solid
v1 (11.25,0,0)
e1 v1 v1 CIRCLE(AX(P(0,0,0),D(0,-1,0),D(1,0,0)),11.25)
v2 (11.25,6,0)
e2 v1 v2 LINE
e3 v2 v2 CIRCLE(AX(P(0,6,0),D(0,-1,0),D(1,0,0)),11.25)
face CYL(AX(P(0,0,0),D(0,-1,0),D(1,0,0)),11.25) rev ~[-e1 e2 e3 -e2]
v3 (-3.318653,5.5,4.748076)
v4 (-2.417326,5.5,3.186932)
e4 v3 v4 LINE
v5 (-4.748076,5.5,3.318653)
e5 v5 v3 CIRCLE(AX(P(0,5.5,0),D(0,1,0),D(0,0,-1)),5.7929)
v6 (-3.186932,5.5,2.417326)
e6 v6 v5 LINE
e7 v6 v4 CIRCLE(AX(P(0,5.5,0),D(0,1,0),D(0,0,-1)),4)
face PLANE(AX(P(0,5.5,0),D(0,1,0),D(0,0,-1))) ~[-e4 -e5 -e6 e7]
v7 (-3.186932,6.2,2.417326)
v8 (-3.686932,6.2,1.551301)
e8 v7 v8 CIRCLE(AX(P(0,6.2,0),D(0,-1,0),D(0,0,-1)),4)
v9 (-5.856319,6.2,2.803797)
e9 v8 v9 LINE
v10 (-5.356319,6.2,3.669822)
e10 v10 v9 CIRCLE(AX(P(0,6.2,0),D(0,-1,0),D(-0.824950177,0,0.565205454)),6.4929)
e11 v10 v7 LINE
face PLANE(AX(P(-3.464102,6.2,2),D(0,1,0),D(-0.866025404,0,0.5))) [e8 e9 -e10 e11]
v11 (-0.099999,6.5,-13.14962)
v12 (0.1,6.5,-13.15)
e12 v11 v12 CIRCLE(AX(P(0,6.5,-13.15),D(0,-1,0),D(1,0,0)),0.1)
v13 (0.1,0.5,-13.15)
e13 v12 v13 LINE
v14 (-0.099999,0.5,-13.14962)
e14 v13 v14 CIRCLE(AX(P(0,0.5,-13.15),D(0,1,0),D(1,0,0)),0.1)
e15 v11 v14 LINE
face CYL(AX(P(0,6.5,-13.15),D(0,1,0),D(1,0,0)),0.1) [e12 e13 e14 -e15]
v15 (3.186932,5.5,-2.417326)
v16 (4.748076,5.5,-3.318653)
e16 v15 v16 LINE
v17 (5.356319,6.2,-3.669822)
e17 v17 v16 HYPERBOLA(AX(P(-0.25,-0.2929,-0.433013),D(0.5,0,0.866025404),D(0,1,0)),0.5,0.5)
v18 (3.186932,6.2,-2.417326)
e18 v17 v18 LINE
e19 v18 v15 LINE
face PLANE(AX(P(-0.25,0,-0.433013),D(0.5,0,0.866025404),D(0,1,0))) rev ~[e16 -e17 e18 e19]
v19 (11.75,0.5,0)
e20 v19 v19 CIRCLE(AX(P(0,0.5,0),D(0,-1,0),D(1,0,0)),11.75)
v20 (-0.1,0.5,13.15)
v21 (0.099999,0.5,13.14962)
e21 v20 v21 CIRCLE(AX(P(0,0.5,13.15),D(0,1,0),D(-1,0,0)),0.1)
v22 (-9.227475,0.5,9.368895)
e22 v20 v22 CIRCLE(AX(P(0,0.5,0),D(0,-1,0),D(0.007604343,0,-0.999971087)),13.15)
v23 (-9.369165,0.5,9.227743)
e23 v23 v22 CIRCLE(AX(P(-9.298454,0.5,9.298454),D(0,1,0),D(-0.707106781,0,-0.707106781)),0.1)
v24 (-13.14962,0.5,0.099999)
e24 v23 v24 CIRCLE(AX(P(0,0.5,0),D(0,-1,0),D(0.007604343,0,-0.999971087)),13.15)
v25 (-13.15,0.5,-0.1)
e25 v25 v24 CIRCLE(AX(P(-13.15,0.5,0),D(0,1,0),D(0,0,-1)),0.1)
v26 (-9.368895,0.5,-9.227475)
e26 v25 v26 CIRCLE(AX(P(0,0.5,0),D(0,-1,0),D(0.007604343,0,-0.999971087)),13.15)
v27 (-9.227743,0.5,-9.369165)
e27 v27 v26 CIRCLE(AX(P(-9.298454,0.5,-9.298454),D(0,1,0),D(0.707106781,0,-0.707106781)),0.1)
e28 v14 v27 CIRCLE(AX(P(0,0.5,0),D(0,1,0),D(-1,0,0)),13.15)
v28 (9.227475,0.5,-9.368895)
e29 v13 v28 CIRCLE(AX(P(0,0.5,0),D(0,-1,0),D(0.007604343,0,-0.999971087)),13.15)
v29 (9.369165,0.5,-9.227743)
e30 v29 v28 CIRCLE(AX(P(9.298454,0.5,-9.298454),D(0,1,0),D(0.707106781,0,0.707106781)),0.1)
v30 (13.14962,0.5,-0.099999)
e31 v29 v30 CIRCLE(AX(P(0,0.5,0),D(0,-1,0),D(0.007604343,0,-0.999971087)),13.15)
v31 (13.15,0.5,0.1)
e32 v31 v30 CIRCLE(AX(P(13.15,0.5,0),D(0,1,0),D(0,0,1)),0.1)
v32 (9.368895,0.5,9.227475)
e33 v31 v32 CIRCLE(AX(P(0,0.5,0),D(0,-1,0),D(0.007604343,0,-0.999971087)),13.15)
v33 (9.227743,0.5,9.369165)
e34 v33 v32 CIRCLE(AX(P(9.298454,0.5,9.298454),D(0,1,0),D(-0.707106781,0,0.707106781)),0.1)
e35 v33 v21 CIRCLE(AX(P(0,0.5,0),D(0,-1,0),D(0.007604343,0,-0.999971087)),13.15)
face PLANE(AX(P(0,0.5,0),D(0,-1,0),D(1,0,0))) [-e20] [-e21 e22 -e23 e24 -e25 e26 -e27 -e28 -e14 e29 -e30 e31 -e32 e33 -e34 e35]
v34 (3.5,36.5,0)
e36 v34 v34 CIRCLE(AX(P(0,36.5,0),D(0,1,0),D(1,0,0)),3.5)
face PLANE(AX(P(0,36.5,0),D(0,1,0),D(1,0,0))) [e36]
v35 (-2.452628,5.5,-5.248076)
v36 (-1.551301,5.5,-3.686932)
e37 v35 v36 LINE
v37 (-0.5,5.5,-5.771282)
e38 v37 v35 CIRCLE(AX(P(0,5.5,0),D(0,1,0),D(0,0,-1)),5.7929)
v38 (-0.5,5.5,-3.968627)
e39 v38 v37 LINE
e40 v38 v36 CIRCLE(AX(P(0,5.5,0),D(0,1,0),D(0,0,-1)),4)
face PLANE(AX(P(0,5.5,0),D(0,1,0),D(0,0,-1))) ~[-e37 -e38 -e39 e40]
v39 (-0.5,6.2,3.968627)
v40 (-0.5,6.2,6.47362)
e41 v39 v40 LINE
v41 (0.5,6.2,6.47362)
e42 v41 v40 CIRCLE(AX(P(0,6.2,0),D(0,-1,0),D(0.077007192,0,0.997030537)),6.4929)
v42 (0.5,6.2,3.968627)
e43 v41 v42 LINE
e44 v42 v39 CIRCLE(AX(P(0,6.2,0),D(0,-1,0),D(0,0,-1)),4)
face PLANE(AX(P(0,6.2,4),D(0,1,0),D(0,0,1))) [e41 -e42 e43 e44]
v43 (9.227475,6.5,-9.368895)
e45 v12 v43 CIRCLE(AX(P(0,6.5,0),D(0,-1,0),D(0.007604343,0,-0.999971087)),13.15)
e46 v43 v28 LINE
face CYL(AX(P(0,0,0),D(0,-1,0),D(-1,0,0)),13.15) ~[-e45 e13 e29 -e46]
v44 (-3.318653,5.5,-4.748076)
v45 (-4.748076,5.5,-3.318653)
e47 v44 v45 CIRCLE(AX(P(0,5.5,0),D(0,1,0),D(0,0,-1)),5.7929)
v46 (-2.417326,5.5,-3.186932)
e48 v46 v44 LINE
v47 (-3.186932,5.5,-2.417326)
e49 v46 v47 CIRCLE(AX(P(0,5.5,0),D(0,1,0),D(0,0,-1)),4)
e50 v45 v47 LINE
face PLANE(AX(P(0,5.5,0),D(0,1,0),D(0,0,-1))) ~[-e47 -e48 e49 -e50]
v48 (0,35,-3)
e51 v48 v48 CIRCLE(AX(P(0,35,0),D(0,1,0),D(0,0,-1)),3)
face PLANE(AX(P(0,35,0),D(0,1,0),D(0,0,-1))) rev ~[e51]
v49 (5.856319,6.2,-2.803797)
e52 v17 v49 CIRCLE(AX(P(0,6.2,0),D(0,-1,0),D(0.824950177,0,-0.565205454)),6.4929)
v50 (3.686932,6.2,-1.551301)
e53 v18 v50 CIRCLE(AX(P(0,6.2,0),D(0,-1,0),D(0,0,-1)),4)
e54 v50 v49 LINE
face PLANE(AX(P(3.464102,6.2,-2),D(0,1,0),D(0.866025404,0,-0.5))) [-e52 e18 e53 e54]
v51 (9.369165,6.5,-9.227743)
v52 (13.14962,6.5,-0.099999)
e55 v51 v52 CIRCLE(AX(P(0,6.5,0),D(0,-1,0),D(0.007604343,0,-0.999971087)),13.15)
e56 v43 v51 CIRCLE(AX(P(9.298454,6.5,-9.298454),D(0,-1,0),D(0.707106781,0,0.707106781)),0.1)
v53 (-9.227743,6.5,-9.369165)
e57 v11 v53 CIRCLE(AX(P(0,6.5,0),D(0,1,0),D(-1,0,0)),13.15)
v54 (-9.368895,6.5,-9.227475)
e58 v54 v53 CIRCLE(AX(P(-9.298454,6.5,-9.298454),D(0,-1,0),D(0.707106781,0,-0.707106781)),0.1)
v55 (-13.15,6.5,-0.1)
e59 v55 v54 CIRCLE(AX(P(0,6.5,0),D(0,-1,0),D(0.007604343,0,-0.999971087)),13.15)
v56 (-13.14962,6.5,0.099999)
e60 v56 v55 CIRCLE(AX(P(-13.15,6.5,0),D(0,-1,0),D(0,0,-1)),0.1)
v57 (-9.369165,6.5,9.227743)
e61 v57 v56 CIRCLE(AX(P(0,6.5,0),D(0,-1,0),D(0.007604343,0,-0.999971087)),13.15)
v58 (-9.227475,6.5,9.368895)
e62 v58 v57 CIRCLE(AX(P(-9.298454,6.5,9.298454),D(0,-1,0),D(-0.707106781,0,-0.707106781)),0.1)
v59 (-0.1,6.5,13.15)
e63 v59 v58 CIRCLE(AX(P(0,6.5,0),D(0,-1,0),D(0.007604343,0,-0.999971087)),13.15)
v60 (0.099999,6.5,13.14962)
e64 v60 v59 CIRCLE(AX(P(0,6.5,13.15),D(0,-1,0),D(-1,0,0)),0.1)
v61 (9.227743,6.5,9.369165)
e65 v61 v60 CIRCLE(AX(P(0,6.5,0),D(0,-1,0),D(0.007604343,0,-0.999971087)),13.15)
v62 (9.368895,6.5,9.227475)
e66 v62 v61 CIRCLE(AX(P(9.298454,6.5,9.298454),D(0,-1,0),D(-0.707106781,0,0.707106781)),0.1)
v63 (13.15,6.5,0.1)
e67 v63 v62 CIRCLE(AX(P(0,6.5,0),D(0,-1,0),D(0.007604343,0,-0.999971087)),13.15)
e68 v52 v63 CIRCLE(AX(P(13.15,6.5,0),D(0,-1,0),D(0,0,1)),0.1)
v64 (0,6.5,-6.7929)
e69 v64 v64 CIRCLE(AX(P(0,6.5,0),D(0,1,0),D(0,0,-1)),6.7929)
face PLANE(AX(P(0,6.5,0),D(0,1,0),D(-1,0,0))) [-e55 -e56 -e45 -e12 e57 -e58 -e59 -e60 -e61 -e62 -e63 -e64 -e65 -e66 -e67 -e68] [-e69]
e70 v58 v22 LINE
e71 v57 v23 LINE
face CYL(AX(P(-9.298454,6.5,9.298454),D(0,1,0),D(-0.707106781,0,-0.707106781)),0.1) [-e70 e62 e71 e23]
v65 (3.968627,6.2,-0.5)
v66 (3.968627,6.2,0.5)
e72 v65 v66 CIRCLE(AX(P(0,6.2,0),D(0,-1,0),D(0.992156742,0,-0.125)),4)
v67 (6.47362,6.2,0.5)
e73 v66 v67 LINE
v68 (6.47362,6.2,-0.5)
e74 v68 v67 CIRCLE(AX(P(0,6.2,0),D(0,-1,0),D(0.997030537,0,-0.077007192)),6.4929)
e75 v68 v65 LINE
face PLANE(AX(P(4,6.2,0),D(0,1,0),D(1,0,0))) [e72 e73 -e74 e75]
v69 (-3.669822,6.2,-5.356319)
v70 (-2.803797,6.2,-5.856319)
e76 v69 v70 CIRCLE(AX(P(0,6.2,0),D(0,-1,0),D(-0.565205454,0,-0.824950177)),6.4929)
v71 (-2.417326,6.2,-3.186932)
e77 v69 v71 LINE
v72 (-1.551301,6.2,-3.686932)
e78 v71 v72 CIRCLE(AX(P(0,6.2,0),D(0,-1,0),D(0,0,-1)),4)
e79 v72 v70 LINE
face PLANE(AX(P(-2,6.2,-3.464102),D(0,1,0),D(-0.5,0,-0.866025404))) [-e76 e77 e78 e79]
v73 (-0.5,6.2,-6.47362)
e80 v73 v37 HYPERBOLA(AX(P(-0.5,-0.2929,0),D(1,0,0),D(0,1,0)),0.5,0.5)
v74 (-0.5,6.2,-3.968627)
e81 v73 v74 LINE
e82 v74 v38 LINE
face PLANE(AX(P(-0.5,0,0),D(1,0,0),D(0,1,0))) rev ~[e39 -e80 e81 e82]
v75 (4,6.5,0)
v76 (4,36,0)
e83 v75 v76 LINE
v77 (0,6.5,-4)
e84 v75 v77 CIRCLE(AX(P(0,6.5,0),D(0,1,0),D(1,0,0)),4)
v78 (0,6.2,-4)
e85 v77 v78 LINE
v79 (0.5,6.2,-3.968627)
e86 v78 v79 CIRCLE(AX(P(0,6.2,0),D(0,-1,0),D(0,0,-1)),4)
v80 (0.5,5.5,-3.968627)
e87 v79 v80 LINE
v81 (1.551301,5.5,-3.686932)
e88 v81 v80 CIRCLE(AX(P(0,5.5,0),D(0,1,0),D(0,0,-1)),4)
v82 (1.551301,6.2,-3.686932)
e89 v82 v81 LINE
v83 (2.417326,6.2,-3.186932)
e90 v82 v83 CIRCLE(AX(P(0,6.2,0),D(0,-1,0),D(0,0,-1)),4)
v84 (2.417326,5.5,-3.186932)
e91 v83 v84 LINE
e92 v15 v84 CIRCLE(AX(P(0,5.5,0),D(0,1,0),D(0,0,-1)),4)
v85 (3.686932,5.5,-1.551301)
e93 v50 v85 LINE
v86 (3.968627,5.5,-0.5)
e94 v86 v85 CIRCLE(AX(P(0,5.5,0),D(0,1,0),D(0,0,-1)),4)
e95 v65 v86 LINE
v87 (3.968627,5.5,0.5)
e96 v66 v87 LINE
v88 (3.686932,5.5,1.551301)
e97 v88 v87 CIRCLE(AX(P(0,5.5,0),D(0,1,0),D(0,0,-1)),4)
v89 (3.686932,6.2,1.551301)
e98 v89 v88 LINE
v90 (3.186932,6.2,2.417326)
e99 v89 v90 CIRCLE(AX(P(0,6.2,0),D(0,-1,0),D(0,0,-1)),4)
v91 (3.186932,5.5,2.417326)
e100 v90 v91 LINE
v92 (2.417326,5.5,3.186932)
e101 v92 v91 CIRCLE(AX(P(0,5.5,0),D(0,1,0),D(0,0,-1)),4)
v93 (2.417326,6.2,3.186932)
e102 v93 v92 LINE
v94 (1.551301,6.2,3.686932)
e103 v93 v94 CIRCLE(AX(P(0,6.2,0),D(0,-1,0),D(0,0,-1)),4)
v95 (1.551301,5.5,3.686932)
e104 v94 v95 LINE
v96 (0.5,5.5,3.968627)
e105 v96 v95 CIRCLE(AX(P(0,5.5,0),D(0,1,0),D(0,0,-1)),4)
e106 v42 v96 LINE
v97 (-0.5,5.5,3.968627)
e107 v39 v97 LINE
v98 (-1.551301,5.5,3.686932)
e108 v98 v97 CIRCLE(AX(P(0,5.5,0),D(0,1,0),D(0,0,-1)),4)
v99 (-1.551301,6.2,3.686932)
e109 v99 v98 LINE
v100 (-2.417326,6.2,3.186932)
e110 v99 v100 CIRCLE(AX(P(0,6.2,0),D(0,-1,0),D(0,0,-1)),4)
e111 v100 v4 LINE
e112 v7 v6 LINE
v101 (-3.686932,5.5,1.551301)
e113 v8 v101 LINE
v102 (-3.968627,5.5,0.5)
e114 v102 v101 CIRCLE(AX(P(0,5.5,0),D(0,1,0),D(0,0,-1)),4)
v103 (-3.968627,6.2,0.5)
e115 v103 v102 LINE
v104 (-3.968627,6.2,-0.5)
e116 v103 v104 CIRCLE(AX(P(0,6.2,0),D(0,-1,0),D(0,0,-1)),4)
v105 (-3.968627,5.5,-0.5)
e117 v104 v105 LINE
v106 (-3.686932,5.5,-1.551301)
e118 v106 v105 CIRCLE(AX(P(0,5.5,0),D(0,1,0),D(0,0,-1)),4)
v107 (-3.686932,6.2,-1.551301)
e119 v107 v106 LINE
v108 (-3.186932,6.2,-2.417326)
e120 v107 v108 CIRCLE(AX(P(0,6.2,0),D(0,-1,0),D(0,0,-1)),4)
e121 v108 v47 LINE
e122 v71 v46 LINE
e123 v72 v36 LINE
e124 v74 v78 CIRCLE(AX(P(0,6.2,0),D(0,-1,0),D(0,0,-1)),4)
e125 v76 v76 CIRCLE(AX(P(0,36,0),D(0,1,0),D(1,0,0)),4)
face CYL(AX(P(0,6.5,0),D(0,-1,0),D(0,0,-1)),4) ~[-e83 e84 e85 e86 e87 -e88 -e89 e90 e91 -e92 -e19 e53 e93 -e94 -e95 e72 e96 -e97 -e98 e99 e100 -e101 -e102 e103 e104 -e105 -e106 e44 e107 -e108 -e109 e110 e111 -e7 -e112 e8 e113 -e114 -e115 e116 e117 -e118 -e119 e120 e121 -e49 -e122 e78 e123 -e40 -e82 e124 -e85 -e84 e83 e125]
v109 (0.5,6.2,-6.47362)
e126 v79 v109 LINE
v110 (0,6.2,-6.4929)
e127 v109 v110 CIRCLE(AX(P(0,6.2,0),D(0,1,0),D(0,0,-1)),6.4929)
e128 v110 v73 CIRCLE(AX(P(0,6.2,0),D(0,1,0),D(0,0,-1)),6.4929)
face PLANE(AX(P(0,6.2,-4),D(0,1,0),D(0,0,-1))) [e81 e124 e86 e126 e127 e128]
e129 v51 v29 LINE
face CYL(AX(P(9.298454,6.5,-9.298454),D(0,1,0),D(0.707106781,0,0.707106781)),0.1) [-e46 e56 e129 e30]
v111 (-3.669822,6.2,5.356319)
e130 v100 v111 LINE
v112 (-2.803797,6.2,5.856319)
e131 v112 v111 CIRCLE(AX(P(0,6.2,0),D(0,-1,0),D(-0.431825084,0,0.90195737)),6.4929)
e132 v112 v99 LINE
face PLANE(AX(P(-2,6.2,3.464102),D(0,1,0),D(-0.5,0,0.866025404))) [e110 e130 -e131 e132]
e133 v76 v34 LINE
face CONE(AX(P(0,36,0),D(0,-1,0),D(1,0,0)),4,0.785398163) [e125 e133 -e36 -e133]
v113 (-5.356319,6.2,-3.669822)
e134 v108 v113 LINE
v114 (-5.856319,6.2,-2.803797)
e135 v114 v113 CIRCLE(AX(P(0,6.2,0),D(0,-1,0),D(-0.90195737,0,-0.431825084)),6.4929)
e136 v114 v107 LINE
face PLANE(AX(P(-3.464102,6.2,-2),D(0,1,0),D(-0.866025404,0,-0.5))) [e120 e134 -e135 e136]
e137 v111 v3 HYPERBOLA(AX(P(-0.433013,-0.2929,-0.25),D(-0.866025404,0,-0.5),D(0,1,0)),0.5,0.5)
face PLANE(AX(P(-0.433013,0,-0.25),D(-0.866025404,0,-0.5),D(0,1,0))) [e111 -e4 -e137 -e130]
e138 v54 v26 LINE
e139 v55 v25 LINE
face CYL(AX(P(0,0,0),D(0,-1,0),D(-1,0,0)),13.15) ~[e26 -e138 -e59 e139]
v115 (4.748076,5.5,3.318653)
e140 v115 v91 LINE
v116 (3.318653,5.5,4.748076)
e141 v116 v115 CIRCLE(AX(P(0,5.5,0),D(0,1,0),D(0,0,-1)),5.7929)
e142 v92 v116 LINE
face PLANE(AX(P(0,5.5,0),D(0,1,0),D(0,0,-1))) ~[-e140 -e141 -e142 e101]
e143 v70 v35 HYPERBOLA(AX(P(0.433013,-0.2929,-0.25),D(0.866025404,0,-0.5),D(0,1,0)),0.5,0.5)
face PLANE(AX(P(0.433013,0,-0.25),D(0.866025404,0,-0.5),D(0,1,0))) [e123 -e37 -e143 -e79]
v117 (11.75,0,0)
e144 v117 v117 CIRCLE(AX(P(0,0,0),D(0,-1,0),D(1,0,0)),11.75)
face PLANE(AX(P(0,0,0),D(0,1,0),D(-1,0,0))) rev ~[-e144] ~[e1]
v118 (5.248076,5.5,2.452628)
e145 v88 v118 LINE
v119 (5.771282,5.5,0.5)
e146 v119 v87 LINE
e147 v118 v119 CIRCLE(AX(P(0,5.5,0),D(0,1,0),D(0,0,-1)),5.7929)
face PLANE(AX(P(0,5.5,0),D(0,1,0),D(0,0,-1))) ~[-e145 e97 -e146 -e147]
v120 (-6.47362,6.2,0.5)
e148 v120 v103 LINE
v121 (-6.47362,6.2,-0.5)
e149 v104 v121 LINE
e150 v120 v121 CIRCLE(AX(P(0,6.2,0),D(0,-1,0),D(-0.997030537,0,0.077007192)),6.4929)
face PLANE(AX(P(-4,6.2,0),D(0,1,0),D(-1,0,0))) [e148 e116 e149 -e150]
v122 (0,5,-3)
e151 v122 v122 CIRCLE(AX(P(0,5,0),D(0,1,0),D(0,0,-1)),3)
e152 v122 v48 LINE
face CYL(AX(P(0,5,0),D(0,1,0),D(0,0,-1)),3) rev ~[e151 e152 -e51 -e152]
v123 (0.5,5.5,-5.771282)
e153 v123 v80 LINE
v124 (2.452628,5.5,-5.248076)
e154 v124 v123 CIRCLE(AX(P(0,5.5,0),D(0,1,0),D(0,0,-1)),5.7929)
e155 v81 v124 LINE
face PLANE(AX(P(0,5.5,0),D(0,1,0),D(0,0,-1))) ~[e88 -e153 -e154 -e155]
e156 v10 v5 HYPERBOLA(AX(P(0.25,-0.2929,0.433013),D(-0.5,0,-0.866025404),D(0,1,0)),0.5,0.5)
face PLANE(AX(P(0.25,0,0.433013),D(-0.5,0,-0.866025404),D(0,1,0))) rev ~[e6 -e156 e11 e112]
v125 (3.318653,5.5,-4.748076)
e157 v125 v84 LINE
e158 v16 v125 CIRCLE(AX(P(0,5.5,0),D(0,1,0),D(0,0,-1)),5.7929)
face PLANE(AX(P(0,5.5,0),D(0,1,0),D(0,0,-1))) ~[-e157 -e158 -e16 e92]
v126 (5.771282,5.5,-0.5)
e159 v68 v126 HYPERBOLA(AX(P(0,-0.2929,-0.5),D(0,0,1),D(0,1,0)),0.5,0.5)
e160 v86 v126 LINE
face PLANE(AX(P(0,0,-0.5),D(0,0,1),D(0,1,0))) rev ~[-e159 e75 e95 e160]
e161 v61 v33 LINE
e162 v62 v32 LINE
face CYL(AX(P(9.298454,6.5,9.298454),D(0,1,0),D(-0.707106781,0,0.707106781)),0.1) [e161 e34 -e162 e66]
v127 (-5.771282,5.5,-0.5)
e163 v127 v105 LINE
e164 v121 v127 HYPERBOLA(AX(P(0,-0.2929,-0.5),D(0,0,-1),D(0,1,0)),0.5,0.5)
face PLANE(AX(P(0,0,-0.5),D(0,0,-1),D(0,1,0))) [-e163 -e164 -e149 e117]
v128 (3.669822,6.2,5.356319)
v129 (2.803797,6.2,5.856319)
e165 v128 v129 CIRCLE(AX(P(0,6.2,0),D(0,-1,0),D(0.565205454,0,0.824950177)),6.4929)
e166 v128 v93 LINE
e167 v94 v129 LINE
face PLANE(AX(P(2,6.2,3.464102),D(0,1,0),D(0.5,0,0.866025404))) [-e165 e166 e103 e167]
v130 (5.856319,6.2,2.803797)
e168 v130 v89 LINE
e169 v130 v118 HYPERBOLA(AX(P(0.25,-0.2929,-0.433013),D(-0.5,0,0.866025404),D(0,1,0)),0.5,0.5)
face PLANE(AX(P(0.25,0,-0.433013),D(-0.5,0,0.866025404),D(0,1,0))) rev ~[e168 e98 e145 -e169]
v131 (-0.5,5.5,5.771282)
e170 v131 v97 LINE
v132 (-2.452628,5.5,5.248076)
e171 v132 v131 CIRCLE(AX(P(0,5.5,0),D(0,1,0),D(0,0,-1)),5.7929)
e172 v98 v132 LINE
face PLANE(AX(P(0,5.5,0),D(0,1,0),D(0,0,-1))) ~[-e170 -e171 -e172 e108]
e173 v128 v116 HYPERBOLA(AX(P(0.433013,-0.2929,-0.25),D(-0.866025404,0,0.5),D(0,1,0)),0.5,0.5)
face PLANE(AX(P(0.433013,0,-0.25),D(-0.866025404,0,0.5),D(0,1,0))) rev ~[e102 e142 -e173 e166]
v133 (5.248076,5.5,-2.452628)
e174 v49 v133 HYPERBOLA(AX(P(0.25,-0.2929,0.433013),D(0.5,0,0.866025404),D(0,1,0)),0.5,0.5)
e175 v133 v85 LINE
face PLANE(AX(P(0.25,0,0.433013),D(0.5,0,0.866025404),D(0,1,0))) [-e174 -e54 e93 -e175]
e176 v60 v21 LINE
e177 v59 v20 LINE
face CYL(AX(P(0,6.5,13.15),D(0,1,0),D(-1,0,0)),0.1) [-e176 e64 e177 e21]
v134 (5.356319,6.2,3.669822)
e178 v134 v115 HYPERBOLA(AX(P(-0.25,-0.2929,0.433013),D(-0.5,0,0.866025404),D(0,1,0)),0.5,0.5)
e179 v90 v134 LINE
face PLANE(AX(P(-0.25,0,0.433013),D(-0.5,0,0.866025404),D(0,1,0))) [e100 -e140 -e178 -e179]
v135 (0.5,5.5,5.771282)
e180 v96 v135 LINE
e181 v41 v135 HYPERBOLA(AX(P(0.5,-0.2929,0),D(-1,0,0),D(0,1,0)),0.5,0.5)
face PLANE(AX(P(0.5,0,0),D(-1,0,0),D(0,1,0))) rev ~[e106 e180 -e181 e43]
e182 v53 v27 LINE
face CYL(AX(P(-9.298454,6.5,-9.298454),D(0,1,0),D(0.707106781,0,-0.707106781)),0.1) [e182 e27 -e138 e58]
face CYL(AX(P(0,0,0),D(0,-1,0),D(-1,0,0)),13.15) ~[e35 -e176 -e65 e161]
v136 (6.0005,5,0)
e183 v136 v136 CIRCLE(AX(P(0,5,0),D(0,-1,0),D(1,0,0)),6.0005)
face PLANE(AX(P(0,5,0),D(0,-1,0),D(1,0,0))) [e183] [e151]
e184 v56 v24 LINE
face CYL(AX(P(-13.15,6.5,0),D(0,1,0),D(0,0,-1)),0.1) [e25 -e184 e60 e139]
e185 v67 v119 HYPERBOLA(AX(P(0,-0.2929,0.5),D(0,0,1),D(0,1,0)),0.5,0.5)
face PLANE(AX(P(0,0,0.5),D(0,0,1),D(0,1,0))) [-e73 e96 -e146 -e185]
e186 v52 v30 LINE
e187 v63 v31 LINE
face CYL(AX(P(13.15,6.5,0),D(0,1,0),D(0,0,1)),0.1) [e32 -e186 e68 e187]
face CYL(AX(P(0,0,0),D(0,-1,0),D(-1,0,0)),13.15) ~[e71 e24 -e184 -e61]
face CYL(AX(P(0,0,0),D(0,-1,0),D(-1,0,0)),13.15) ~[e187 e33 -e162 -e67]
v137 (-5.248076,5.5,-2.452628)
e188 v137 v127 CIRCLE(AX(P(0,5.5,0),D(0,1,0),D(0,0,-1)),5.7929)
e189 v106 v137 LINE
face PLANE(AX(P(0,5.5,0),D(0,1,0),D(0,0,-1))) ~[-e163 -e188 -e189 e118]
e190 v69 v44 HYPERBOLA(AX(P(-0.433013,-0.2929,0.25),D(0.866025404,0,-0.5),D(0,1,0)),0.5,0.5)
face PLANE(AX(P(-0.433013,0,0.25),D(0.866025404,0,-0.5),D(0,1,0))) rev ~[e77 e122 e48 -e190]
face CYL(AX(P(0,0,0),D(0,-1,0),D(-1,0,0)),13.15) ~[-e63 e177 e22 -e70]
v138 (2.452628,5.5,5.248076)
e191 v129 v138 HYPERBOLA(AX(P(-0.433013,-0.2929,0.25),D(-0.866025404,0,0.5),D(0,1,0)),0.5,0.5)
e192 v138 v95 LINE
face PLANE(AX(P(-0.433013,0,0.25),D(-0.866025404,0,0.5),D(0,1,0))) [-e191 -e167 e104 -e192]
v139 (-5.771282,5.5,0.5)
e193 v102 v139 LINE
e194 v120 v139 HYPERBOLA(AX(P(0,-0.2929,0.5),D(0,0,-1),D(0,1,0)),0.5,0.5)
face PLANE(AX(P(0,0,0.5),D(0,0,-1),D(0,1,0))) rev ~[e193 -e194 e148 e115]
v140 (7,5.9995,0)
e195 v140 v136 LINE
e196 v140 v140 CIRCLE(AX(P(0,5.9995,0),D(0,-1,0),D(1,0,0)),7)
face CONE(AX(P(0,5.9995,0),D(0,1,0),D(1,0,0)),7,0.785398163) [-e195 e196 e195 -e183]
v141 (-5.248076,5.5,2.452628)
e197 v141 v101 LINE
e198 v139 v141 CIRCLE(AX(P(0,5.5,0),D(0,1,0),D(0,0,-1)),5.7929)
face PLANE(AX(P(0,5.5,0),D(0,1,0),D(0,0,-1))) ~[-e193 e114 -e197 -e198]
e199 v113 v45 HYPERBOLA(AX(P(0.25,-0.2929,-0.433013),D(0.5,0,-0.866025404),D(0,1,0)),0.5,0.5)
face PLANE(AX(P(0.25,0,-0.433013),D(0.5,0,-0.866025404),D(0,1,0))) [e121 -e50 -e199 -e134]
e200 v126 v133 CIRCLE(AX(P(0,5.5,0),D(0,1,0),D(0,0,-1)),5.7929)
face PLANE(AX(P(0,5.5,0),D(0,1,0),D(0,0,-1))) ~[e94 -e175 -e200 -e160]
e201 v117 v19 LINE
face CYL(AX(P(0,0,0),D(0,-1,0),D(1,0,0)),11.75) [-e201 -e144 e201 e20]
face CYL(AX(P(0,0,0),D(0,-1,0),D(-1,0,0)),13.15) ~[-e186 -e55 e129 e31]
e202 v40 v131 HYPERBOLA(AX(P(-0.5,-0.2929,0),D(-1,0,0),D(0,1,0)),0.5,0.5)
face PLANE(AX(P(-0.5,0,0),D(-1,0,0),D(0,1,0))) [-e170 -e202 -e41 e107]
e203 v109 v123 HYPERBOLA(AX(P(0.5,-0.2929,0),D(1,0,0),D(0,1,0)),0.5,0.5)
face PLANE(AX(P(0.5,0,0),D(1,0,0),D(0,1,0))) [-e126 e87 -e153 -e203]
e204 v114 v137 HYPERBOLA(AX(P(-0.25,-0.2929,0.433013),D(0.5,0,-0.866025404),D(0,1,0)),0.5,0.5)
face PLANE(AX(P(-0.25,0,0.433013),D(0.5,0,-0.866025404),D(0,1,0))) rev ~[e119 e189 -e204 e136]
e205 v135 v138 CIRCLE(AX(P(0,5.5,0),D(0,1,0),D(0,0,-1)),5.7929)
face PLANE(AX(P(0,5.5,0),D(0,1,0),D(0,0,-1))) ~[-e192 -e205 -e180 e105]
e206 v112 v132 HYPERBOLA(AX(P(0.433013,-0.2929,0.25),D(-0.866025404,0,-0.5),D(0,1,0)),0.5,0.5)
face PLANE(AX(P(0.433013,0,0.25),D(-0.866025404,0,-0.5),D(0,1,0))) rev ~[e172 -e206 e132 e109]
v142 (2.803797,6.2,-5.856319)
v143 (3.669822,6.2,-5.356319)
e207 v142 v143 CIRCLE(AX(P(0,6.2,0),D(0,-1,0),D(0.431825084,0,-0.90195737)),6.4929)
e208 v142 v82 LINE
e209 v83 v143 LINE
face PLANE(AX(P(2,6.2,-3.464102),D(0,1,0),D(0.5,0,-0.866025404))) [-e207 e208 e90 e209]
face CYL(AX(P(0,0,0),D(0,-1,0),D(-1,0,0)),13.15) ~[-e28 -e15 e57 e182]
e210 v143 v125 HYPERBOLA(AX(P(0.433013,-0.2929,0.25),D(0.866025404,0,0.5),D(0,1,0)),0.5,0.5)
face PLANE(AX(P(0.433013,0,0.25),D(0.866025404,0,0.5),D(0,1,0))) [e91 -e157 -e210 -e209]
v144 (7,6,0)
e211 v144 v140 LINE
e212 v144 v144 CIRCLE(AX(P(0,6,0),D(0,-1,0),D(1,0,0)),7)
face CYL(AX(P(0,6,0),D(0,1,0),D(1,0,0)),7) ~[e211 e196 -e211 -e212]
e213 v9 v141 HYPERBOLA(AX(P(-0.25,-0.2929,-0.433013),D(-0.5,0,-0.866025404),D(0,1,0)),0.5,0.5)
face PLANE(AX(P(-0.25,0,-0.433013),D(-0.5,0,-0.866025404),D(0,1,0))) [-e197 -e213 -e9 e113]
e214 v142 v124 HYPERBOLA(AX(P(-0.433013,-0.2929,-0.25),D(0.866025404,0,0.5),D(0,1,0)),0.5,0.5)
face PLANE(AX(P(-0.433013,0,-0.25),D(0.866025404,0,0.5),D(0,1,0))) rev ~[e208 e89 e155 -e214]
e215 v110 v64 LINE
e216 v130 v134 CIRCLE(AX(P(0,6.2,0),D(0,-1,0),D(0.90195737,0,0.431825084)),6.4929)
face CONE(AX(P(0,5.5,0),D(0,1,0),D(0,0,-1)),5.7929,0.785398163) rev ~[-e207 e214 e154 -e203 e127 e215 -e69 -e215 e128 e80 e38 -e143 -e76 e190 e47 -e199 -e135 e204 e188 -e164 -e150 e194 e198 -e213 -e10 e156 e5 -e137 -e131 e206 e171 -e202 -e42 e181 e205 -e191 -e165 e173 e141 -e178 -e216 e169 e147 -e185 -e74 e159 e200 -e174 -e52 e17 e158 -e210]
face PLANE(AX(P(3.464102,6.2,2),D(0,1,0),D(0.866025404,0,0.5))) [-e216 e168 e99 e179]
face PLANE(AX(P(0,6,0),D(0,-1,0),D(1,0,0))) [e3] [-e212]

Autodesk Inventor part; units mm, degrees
ref_plane "YZ Plane" through (0, 0, 0) normal (1, 0, 0) x (0, 1, 0)
ref_plane "XZ Plane" through (0, 0, 0) normal (0, 1, 0) x (-1, 0, 0)
ref_plane "XY Plane" through (0, 0, 0) normal (0, 0, 1) x (1, 0, 0)
sketch "Sketch1" plane through (0, 0, 0) normal (0, 1, 0) x (-1, 0, 0)
  circle A0 centre (0, 0) radius 13.15
  dimension "d0" = 26.3
extrude "Extrusion1" add sketch "Sketch1" along normal blind 6.5
sketch "Sketch2" plane through (0, 0, 0) normal (0, -1, 0) x (1, 0, 0)
  circle A0 centre (0, 0) radius 13.15 projected
  circle A1 centre (0, 0) radius 11.75
  dimension "d3" = 23.5
extrude "Extrusion2" cut sketch "Sketch2" against normal blind 0.5
sketch "Sketch3" plane through (0, 0, 0) normal (0, -1, 0) x (1, 0, 0)
  circle A0 centre (0, 0) radius 11.25
  dimension "d6" = 22.5
extrude "Extrusion3" cut sketch "Sketch3" against normal blind 6
sketch "Sketch4" plane through (0, 6.5, 0) normal (0, 1, 0) x (1, 0, 0)
  circle A0 centre (0, 0) radius 4
  dimension "d9" = 8
extrude "Extrusion4" add sketch "Sketch4" along normal blind 30
chamfer "Chamfer1" distance 0.5 angle 45 1 edges at (-4, 36.5, 0)
sketch "Sketch5" plane through (0, 6, 0) normal (0, -1, 0) x (1, 0, 0)
  circle A0 centre (0, 0) radius 7
  dimension "d15" = 14
extrude "Extrusion5" add sketch "Sketch5" along normal blind 1
chamfer "Chamfer2" distance 1 angle 45 1 edges at (-7, 5, 0)
sketch "Sketch6" plane through (0, 5, 0) normal (0, -1, 0) x (1, 0, 0)
  point P0 (0, 0)
hole "Hole1" at (0, 5, 0) direction (0, 1, 0) diameter 6 depth 30
sketch "Sketch7" plane through (0, 0, 0) normal (1, 0, 0) x (0, 1, 0)
  line L0 (6.5, 4) -> (6.5, -4) projected
  line L1 (6.5, -4) -> (5.5, -4)
  line L2 (5.5, -4) -> (5.5, -5.7929)
  line L3 (5.5, -5.7929) -> (6.5, -6.7929)
  line L4 (6.5, -13.15) -> (6.5, 13.15) projected
  line L5 (0.5, -11.75) -> (0, -11.75) projected
  line L6 (0, -11.75) -> (0, -11.25) projected
  line L7 (0, -11.25) -> (6, -11.25) projected
  line L8 (6, -11.25) -> (6, -7) projected
  line L9 (6, -7) -> (5, -6) projected
  line L10 (5, -6) -> (5, -3) projected
  line L11 (5, -3) -> (35, -3) projected
  line L12 (35, -3) -> (35, 3) projected
  line L13 (35, 3) -> (5, 3) projected
  line L14 (5, 3) -> (5, 6) projected
  line L15 (5, 6) -> (6, 7) projected
  line L16 (6, 7) -> (6, 11.25) projected
  line L17 (6, 11.25) -> (0, 11.25) projected
  line L18 (0, 11.25) -> (0, 11.75) projected
  line L19 (0, 11.75) -> (0.5, 11.75) projected
  line L20 (0.5, 11.75) -> (0.5, 13.15) projected
  line L21 (0.5, 13.15) -> (6.5, 13.15) projected
  line L22 (6.5, 13.15) -> (6.5, 4) projected
  line L23 (6.5, 4) -> (36, 4) projected
  line L24 (36, 4) -> (36.5, 3.5) projected
  line L25 (36.5, 3.5) -> (36.5, -3.5) projected
  line L26 (36.5, -3.5) -> (36, -4) projected
  line L27 (36, -4) -> (6.5, -4) projected
  line L28 (6.5, -4) -> (6.5, -13.15) projected
  line L29 (6.5, -13.15) -> (0.5, -13.15) projected
  line L30 (0.5, -13.15) -> (0.5, -11.75) projected
  line L31 (0, 0) -> (40, 0)
  dimension "d28" = 0.5
  dimension "d29" = 0.5
  dimension "d30" = 0.5
revolve "Revolution1" cut sketch "Sketch7" angle 360 about axis through (0, 0, 0) along (0, 1, 0) contours L4 L3 L2 L1
sketch "Sketch8" plane through (0, 0, 0) normal (1, 0, 0) x (0, 1, 0)
  line L0 (0.5, -11.75) -> (0, -11.75) projected
  line L1 (0, -11.75) -> (0, -11.25) projected
  line L2 (0, -11.25) -> (6, -11.25) projected
  line L3 (6, -11.25) -> (6, -7) projected
  line L4 (6, -7) -> (5, -6) projected
  line L5 (5, -6) -> (5, -3) projected
  line L6 (5, -3) -> (35, -3) projected
  line L7 (35, -3) -> (35, 3) projected
  line L8 (35, 3) -> (5, 3) projected
  line L9 (5, 3) -> (5, 6) projected
  line L10 (5, 6) -> (6, 7) projected
  line L11 (6, 7) -> (6, 11.25) projected
  line L12 (6, 11.25) -> (0, 11.25) projected
  line L13 (0, 11.25) -> (0, 11.75) projected
  line L14 (0, 11.75) -> (0.5, 11.75) projected
  line L15 (0.5, 11.75) -> (0.5, 13.15) projected
  line L16 (0.5, 13.15) -> (6.5, 13.15) projected
  line L17 (6.5, 13.15) -> (6.5, 6.7929) projected
  line L18 (6.5, 6.7929) -> (5.5, 5.7929) projected
  line L19 (5.5, 5.7929) -> (5.5, 4) projected
  line L20 (5.5, 4) -> (36, 4) projected
  line L21 (36, 4) -> (36.5, 3.5) projected
  line L22 (36.5, 3.5) -> (36.5, -3.5) projected
  line L23 (36.5, -3.5) -> (36, -4) projected
  line L24 (36, -4) -> (5.5, -4) projected
  line L25 (5.5, -4) -> (5.5, -5.7929) projected
  line L26 (5.5, -5.7929) -> (6.5, -6.7929) projected
  line L27 (6.5, -6.7929) -> (6.5, -13.15) projected
  line L28 (6.5, -13.15) -> (0.5, -13.15) projected
  line L29 (0.5, -13.15) -> (0.5, -11.75) projected
  line L30 (5.5, -3.5) -> (6.2, -3.5)
  line L31 (6.2, -3.5) -> (6.2, -6.4929)
  line L32 (6.2, -6.4929) -> (5.5, -6.4929)
  line L33 (5.5, -6.4929) -> (5.5, -3.5)
  line L34 (6.5, 6.7929) -> (6.5, -6.7929) projected
  point P0 (0, 0)
  point P1 (5.5, -4)
  dimension "d32" = 0.3
extrude "Extrusion6" add sketch "Sketch8" along normal mid plane 1 contours L26 L25 L24 L31 | L24 L33 L30 L31
pattern_circular "Circular Pattern1" count 12 over 360 about axis through (0, 6.5, 0) along (0, 1, 0) of "Extrusion6"
sketch "Sketch9" plane through (0, 6.5, 0) normal (0, 1, 0) x (1, 0, 0)
  line L0 (0, 0) -> (0, 13.8998)
  circle A0 centre (0, 0) radius 13.25
  circle A1 centre (0, 0) radius 6.7929 projected
  circle A2 centre (0, 0) radius 4 projected
  circle A3 centre (0, 0) radius 3 projected
  circle A4 centre (0, 0) radius 13.15 projected
  circle A5 centre (0, 13.15) radius 0.1
  dimension "d38" = 26.5
extrude "Extrusion7" add sketch "Sketch9" against normal up to surface (6 mm away) contours A5 A4 L0 | L0 A4 A5 | A4 A5 L0 | L0 A5 A4
pattern_circular "Circular Pattern2" count 8 over 360 about axis through (0, 6.5, 0) along (0, 1, 0) of "Extrusion7"
equation "\"d29\" = d28"
equation "\"d30\" = d28"
properties part number "Piston" material "Acetal Resin, White"
